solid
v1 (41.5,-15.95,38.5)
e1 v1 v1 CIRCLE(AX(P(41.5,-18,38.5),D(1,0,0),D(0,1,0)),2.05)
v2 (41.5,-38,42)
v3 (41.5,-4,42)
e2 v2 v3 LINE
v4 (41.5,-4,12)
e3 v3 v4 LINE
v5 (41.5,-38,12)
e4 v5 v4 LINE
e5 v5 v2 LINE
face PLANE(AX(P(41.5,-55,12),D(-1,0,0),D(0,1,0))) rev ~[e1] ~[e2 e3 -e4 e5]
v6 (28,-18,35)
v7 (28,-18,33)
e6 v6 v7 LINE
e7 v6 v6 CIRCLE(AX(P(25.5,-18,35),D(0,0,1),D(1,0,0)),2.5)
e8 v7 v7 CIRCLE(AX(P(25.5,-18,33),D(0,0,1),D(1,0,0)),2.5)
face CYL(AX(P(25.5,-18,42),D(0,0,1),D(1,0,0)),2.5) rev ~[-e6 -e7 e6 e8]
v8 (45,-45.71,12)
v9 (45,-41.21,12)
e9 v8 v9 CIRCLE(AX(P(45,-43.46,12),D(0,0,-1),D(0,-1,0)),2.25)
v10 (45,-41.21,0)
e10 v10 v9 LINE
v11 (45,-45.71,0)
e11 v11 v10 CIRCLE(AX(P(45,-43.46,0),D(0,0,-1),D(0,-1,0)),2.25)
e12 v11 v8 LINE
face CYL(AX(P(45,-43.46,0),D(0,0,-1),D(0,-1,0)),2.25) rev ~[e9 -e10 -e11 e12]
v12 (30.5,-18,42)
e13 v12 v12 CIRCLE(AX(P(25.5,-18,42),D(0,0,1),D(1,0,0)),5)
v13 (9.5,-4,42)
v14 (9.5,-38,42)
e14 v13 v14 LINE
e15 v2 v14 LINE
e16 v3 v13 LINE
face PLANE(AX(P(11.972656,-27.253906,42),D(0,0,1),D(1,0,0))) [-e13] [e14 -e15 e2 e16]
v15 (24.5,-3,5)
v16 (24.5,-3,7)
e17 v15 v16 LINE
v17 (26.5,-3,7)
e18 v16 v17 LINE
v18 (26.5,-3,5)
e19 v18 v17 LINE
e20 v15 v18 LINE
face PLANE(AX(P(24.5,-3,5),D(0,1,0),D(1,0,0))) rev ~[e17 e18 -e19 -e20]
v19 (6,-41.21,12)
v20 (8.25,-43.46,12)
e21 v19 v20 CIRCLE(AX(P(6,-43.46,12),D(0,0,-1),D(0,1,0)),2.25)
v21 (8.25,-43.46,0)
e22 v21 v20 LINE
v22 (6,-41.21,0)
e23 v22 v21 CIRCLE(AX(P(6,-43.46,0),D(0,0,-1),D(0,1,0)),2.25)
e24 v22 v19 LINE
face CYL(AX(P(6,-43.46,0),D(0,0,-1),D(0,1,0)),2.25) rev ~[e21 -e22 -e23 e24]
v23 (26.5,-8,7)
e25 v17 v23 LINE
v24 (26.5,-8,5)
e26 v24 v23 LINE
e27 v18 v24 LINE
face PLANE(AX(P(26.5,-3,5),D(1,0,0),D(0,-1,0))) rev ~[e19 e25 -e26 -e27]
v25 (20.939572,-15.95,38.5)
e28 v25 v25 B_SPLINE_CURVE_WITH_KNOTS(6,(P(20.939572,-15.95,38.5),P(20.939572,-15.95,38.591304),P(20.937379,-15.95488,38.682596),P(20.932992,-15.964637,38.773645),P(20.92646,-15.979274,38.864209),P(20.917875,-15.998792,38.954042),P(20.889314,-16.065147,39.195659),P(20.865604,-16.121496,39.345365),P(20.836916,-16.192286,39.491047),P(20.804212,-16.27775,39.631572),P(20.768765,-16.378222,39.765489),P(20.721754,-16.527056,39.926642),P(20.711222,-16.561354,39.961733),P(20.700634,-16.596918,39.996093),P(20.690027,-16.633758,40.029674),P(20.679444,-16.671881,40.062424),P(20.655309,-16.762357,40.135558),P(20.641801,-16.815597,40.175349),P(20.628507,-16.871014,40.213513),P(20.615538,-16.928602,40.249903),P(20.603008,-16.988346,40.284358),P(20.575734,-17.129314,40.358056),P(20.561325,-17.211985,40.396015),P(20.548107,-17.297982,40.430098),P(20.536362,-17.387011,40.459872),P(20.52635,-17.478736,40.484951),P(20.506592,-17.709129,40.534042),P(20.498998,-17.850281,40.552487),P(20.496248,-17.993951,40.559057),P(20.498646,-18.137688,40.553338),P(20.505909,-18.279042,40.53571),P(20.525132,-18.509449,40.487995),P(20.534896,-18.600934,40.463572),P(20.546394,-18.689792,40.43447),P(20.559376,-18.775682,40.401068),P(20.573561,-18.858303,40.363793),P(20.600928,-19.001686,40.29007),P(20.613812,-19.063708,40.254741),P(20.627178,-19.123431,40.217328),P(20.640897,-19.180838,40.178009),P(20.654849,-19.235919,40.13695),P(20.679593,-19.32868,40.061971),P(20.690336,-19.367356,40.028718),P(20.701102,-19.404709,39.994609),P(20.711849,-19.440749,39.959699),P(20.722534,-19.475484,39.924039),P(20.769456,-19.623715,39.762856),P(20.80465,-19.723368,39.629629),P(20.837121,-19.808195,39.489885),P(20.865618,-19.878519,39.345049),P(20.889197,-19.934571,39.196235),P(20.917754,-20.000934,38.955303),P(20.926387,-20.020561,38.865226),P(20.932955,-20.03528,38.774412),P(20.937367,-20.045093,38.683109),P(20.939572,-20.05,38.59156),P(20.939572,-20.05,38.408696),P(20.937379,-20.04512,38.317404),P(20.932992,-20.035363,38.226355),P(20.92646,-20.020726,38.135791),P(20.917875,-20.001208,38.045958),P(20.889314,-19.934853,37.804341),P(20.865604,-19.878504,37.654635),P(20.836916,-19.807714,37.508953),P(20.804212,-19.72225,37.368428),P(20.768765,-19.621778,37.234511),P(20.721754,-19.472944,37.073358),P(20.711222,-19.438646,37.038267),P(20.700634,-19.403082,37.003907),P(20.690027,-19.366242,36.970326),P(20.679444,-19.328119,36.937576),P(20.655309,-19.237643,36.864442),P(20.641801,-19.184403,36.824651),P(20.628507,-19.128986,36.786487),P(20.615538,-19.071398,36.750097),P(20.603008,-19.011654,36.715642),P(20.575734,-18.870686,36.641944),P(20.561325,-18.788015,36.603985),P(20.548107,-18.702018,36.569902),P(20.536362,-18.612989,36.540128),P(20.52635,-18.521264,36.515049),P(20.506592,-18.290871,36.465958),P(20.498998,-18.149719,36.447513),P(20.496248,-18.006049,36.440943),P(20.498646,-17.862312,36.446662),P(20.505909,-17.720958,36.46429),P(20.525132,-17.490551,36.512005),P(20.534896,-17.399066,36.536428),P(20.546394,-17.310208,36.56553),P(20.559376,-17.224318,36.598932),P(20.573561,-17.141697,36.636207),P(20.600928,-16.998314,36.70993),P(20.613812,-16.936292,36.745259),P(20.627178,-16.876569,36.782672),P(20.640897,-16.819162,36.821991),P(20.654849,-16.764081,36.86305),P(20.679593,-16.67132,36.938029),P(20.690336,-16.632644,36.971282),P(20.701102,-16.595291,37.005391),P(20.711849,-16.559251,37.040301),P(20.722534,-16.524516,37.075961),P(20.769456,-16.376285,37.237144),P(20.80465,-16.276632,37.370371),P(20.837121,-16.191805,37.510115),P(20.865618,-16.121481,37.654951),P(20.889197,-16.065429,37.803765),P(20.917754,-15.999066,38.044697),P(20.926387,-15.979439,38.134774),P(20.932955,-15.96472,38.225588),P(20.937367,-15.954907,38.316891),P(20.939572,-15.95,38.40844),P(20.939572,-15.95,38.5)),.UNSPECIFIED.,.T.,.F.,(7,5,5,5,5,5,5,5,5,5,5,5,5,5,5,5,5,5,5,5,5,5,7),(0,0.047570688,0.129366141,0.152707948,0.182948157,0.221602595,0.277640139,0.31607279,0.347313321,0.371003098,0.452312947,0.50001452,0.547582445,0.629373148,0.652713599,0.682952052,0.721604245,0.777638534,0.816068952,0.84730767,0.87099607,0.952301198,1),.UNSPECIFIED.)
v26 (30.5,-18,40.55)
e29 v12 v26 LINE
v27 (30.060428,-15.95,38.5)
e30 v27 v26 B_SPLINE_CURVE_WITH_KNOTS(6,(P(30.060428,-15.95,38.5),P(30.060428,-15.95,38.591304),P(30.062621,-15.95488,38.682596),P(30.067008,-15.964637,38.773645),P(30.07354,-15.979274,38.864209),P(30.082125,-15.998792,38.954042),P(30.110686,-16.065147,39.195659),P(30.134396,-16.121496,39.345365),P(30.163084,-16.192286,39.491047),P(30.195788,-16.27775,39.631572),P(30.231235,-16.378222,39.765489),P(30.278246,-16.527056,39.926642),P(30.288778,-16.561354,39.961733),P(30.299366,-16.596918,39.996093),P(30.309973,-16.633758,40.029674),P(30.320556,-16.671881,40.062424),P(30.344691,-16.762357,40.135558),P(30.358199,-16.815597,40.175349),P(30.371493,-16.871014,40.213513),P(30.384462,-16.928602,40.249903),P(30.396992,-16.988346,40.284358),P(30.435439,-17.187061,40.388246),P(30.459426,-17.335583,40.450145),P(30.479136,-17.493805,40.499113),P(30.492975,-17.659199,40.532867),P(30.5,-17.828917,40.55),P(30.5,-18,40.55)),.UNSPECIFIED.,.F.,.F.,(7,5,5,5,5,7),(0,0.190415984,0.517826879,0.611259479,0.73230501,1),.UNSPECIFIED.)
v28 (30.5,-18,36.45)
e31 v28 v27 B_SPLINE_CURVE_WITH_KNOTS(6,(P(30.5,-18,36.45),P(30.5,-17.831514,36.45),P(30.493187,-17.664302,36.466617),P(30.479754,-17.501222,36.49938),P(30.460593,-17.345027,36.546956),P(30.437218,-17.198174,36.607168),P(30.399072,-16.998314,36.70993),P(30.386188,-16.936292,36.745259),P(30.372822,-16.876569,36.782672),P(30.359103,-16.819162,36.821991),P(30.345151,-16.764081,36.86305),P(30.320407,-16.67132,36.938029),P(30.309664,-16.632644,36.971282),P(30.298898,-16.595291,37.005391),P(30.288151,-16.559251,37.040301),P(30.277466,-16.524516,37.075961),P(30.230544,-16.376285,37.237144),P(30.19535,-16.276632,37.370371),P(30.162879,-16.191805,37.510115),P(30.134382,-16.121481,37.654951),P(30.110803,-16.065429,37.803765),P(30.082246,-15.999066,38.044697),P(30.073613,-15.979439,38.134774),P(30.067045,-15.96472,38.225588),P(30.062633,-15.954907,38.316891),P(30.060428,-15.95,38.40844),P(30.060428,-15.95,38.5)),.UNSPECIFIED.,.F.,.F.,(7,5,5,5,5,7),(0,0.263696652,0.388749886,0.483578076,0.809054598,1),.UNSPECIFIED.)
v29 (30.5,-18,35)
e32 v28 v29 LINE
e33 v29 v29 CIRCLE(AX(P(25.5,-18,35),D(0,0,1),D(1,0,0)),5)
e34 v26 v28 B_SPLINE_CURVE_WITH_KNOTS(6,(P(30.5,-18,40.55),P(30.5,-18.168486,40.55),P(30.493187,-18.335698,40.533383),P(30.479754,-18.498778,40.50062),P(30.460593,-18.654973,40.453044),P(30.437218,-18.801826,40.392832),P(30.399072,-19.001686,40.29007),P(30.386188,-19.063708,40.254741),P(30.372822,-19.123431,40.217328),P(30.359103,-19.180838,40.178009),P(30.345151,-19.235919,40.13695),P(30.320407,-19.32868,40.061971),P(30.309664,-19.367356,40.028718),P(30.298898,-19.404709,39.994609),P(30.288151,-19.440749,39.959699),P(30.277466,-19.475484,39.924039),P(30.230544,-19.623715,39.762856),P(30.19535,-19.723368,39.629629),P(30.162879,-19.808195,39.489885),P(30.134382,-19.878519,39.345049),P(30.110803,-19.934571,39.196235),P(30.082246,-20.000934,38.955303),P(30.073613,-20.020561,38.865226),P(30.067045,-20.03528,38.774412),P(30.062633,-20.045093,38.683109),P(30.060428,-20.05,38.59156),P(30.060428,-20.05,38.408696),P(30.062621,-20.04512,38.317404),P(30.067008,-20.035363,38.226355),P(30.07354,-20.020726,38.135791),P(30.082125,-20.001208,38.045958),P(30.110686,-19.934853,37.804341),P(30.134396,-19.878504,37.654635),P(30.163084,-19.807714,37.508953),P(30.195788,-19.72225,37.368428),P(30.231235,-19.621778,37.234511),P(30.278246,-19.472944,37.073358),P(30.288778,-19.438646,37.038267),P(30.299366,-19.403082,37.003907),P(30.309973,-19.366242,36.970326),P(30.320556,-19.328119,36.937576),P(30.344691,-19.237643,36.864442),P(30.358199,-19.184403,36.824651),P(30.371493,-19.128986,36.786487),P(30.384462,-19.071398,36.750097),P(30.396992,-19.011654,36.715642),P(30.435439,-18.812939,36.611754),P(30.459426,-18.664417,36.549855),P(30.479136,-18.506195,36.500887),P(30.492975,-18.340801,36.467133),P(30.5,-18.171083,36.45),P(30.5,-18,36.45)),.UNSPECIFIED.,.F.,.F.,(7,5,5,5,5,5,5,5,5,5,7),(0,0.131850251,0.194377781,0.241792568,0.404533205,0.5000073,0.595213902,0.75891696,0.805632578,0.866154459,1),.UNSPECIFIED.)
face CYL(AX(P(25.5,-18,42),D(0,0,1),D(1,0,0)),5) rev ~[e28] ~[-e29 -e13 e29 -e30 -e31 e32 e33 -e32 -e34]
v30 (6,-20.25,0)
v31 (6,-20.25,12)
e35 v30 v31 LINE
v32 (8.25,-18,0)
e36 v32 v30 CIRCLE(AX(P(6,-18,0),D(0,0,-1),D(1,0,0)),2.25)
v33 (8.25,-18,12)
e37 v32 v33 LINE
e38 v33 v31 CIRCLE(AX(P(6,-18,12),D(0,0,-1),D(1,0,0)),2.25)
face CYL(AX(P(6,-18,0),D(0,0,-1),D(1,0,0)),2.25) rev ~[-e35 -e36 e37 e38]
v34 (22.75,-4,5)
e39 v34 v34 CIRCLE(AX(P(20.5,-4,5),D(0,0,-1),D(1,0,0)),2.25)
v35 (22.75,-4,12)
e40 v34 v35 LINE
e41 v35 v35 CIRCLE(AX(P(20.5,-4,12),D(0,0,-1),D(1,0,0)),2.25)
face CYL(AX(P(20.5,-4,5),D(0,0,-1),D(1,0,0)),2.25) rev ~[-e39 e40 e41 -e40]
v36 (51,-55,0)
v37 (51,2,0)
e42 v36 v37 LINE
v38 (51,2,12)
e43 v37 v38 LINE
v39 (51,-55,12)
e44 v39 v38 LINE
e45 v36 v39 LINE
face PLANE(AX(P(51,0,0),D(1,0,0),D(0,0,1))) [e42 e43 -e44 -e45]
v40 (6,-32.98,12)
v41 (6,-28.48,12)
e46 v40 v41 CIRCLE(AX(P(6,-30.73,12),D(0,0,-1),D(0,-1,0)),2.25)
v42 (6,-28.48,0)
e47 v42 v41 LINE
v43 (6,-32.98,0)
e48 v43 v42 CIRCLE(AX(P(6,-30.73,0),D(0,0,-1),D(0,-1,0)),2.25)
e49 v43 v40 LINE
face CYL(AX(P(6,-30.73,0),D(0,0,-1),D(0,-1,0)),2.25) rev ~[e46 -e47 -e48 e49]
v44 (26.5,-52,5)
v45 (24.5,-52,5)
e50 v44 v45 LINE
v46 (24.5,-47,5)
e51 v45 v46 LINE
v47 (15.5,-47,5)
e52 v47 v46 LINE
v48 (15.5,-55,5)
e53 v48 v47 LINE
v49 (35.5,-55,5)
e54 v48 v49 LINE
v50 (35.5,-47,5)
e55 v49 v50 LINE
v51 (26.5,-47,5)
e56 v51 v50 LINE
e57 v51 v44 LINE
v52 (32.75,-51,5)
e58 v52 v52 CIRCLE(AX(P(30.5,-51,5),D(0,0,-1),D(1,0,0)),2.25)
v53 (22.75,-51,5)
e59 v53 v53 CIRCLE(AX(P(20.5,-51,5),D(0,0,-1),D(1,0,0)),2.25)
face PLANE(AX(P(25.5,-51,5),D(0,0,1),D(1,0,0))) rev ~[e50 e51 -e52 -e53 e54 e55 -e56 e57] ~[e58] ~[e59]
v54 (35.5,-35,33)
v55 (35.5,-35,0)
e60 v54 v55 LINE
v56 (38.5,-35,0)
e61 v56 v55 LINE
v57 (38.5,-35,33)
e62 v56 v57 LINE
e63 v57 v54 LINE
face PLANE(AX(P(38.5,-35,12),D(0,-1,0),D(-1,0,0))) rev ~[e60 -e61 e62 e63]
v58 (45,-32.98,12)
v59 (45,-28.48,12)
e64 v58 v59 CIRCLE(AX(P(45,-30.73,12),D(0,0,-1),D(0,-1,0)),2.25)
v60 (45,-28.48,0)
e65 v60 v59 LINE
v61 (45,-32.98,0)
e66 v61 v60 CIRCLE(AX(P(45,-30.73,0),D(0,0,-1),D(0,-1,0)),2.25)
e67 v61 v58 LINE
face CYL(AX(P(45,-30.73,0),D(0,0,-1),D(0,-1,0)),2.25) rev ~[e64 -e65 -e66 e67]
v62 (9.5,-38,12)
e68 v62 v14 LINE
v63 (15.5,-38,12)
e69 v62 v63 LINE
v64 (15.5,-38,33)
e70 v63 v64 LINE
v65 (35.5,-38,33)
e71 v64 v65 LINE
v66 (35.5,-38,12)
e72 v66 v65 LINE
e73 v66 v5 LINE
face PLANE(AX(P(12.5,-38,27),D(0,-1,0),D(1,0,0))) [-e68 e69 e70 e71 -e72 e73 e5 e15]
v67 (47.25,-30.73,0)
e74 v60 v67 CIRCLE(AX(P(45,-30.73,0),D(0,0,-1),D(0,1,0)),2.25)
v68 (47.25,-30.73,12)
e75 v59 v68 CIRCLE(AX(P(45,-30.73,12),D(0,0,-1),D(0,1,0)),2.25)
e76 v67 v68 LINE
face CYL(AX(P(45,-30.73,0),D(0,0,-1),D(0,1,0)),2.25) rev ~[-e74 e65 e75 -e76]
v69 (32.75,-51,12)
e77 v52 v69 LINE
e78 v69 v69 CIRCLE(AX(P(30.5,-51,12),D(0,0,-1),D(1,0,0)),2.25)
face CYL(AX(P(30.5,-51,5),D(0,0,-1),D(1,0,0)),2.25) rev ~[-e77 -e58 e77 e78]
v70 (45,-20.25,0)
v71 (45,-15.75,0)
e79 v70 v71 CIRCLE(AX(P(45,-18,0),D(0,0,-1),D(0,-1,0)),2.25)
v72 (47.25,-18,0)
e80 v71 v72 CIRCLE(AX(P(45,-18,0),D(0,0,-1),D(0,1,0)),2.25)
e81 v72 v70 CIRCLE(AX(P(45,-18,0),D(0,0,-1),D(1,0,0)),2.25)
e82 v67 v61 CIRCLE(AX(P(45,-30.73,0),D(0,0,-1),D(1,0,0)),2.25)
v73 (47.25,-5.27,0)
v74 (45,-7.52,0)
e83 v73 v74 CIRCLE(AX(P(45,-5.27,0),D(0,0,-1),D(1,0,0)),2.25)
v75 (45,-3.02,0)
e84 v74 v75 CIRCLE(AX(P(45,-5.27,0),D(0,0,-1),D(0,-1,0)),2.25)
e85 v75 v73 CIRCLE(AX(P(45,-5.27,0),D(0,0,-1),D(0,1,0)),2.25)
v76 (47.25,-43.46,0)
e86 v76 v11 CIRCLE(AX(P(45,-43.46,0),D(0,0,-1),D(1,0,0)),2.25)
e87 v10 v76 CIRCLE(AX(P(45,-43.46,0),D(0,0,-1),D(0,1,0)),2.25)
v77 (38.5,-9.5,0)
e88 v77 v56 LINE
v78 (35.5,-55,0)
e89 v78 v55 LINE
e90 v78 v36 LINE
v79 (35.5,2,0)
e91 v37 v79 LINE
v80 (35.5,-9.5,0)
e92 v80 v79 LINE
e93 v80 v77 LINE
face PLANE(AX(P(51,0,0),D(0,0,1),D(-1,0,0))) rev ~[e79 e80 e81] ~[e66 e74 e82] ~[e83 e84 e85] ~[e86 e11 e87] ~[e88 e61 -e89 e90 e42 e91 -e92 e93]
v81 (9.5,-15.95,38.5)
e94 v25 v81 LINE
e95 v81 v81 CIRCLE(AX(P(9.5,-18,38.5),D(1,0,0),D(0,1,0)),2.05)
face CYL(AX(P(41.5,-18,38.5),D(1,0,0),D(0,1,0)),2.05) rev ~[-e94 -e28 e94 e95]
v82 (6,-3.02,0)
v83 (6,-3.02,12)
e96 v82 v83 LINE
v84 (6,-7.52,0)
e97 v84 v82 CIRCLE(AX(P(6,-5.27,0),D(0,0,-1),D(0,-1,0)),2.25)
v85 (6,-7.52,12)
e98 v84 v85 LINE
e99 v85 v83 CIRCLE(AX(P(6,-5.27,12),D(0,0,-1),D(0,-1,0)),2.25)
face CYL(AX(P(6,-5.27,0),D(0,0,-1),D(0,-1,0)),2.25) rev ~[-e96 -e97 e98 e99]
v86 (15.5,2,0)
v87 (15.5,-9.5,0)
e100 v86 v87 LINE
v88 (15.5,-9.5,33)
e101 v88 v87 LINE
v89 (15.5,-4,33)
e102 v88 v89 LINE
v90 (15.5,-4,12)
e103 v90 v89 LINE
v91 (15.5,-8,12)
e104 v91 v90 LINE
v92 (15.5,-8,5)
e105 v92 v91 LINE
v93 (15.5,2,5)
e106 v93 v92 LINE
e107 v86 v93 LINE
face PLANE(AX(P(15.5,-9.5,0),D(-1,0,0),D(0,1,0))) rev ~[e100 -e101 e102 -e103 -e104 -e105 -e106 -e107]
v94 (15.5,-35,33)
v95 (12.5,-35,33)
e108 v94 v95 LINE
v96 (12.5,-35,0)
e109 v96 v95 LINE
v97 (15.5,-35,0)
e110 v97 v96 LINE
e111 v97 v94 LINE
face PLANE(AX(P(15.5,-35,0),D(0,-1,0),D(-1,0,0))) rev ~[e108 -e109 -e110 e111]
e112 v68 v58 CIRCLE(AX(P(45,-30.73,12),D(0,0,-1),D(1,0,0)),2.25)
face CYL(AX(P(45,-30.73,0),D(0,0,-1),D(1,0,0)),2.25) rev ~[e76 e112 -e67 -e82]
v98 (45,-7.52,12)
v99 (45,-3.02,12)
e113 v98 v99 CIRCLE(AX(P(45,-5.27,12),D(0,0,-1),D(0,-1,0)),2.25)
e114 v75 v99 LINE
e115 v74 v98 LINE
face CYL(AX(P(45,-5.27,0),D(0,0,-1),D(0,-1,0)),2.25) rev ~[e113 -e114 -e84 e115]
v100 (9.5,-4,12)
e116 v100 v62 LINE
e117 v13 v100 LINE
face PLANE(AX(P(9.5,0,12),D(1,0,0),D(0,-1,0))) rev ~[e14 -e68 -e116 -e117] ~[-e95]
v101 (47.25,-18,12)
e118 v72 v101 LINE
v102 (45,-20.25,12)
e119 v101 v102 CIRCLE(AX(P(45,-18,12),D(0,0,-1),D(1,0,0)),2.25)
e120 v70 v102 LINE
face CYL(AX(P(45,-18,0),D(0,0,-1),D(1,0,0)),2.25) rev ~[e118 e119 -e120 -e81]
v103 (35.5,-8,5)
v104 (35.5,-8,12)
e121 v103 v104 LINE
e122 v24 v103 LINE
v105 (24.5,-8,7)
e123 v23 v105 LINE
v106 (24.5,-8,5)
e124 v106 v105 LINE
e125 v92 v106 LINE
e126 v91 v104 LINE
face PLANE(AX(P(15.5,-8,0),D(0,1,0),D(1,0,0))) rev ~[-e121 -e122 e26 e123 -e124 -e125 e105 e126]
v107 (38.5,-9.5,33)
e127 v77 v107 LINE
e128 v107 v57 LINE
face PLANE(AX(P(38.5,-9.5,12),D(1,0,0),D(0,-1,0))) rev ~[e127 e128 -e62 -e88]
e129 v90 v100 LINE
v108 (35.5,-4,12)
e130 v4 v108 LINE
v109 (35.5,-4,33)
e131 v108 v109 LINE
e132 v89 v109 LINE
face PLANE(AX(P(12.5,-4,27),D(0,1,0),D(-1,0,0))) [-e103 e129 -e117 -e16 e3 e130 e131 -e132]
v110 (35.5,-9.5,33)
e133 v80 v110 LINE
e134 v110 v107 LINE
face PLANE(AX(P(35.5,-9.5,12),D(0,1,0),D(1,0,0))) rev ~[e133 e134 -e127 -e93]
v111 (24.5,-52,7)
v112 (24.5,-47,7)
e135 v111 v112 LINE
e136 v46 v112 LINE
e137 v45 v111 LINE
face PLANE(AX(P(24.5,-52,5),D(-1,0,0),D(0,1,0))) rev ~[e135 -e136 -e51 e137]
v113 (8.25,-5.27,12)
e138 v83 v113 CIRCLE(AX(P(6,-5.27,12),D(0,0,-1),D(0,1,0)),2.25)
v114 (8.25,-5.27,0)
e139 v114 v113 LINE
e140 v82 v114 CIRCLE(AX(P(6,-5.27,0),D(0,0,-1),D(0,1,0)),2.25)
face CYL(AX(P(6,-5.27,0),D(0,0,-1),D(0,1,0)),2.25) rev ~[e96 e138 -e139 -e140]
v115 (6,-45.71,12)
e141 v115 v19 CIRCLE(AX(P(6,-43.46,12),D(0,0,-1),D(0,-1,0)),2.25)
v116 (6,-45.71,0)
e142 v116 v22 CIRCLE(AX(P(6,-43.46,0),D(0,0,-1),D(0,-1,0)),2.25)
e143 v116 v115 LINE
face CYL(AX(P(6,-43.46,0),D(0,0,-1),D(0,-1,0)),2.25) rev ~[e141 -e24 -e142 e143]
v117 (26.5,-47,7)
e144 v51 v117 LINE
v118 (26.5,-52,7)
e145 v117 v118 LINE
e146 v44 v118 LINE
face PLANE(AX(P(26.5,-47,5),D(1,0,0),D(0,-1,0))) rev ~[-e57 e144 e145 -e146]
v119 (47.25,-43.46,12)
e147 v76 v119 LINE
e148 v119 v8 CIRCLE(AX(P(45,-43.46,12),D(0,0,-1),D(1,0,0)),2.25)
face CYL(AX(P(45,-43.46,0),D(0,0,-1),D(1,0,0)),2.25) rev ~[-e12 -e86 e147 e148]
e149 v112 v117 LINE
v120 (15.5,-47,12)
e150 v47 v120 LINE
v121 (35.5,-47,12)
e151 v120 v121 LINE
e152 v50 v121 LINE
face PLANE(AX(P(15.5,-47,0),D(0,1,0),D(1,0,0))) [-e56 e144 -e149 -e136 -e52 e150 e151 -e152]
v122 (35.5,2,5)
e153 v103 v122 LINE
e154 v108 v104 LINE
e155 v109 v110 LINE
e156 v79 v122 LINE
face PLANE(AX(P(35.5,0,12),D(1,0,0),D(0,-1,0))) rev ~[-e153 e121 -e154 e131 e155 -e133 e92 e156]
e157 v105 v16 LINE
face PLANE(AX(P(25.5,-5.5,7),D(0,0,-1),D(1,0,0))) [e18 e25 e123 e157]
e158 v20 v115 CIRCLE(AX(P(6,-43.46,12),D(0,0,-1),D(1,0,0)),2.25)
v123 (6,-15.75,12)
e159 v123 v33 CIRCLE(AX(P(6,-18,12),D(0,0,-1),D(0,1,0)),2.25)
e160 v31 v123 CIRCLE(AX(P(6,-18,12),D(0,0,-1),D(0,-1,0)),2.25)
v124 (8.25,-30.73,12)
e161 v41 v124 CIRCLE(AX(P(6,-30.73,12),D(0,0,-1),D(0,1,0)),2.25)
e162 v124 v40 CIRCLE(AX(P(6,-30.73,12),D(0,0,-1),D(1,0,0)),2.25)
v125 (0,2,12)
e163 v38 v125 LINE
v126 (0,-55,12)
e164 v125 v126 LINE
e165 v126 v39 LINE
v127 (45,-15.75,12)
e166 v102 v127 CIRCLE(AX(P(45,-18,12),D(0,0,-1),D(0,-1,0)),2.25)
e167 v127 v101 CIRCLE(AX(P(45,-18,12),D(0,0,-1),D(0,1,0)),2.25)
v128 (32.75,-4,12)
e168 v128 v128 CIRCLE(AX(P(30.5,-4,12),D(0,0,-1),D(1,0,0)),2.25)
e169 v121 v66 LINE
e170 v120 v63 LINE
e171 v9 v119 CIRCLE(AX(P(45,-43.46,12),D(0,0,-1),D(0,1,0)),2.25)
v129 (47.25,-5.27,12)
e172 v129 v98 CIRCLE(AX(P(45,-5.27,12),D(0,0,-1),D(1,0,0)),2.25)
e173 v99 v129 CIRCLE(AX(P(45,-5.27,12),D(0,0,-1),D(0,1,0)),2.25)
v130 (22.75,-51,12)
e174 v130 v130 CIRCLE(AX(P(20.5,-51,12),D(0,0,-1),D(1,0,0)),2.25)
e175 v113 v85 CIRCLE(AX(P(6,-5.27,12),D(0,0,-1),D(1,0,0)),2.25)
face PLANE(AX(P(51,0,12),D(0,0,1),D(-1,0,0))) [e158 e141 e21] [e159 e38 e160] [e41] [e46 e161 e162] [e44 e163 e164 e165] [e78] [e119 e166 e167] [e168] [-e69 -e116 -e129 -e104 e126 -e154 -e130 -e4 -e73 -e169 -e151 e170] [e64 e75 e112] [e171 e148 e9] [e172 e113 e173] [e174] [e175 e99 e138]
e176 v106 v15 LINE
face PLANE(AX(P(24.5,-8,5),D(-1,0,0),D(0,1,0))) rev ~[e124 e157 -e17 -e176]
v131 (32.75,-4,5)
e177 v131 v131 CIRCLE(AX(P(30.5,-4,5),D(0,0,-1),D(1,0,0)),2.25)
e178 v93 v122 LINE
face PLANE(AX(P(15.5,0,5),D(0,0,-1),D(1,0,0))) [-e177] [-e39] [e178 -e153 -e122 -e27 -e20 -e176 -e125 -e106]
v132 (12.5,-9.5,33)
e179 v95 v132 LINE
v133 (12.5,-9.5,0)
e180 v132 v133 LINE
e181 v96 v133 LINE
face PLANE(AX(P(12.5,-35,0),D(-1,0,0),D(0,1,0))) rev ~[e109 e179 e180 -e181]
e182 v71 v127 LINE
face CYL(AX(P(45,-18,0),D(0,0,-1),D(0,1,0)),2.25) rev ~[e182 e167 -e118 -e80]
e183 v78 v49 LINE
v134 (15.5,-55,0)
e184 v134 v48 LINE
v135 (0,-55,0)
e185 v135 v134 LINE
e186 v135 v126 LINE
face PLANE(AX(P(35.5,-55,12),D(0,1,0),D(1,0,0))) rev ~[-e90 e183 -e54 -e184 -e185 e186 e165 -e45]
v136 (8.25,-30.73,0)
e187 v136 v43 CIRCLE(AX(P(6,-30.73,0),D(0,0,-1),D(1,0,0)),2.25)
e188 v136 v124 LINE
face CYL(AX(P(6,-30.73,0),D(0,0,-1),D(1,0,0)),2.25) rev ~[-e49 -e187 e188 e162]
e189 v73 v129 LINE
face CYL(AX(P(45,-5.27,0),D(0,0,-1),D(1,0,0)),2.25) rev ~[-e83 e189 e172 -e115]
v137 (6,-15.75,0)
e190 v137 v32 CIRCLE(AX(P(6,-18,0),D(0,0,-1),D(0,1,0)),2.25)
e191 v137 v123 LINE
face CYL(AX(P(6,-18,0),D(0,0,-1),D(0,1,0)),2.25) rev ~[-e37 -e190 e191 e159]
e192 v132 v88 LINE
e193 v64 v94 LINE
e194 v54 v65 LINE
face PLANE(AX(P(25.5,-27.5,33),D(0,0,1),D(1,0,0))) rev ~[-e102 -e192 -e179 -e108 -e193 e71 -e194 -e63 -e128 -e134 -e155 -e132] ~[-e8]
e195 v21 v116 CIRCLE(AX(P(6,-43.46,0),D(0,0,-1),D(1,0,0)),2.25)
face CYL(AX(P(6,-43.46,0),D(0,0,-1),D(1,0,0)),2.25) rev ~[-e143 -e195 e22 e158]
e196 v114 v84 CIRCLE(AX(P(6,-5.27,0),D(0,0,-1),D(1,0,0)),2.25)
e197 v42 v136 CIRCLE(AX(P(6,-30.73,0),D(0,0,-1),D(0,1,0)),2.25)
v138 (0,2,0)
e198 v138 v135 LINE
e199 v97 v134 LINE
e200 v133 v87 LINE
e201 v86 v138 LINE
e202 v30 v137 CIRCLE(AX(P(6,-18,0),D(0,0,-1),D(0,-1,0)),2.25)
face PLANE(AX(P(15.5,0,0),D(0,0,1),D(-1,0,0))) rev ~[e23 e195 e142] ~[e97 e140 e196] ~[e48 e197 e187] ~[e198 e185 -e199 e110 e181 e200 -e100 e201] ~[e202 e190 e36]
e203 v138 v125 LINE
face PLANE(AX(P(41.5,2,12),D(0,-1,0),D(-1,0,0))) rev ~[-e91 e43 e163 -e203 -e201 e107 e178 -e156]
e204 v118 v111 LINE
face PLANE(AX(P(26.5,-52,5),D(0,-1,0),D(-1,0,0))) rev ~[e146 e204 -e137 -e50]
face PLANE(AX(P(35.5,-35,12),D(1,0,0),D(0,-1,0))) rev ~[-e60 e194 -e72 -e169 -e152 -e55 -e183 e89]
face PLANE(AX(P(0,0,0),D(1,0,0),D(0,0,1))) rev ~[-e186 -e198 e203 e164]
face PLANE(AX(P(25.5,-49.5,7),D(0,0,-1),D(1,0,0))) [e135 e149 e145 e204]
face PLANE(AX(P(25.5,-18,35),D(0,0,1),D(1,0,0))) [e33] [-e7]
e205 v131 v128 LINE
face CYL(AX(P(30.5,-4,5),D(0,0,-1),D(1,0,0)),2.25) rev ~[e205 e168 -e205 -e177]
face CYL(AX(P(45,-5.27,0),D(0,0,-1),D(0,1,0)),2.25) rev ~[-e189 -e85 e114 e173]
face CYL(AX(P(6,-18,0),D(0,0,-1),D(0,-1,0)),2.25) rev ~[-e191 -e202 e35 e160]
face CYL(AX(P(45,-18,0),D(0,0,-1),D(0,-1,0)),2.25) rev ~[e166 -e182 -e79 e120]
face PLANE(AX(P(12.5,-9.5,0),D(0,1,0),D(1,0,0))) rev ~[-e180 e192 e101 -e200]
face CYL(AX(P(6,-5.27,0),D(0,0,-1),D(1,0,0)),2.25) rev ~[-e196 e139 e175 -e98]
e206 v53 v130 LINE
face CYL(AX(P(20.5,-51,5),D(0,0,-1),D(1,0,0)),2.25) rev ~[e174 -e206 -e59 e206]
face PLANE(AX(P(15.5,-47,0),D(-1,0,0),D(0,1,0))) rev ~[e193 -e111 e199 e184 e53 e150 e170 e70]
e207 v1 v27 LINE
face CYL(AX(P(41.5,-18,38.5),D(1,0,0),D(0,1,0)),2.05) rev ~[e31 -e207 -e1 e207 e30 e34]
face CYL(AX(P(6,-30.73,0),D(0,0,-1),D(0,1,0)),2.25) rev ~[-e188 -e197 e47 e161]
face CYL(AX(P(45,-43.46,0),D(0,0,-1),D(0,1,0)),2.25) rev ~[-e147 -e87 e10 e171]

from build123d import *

# Parameters (mm, degrees)
F0_W      = 20
F0_H      = 8
F1_DEPTH  = 12
F2_DEPTH  = 5
F3_DEPTH  = 5
F5_DEPTH  = 2
F4_R      = 2.25
F6_DEPTH  = 25
F8_DEPTH  = 2
F7_R      = 2.25
F9_DEPTH  = 25
F11_DEPTH = 30
F12_W     = 6
F12_H     = 30
F13_DEPTH = 4
F14_W     = 6
F14_H     = 30
F15_DEPTH = 4
F16_W     = 32
F16_H     = 47
F17_DEPTH = 9
F18_R     = 5
F18_R_2   = 2.5
F19_DEPTH = 7
F20_DEPTH = 25
F21_R     = 2.05
F22_DEPTH = 58
F23_DEPTH = 13
F24_DEPTH = 2


with BuildPart() as f1:
    # F0 (on Top) → F1 (new body)
    with BuildSketch(Plane.XY):
        with Locations((25.5, -4)):
            Rectangle(F0_W, F0_H)
        with Locations((25.5, -51)):
            Rectangle(F0_W, F0_H)
        with BuildLine():
            Line((6, 0), (0, 0))
            Line((0, 0), (0, -55))
            Line((0, -55), (6, -55))
            Line((6, -55), (6, -45.71))
            ThreePointArc((6, -45.71), (3.75, -43.46), (6, -41.21))
            Line((6, -41.21), (6, -32.98))
            ThreePointArc((6, -32.98), (3.75, -30.73), (6, -28.48))
            Line((6, -28.48), (6, -20.25))
            ThreePointArc((6, -20.25), (3.75, -18), (6, -15.75))
            Line((6, -15.75), (6, -7.52))
            ThreePointArc((6, -7.52), (3.75, -5.27), (6, -3.02))
            Line((6, -3.02), (6, 0))
        make_face()
        with BuildLine():
            Line((51, 0), (45, 0))
            Line((45, 0), (45, -3.02))
            ThreePointArc((45, -3.02), (46.5909902577, -3.6790097423), (47.25, -5.27))
            ThreePointArc((47.25, -5.27), (46.5909902577, -6.8609902577), (45, -7.52))
            Line((45, -7.52), (45, -15.75))
            ThreePointArc((45, -15.75), (46.5909902577, -16.4090097423), (47.25, -18))
            ThreePointArc((47.25, -18), (46.5909902577, -19.5909902577), (45, -20.25))
            Line((45, -20.25), (45, -28.48))
            ThreePointArc((45, -28.48), (46.5909902577, -29.1390097423), (47.25, -30.73))
            ThreePointArc((47.25, -30.73), (46.5909902577, -32.3209902577), (45, -32.98))
            Line((45, -32.98), (45, -41.21))
            ThreePointArc((45, -41.21), (46.5909902577, -41.8690097423), (47.25, -43.46))
            ThreePointArc((47.25, -43.46), (46.5909902577, -45.0509902577), (45, -45.71))
            Line((45, -45.71), (45, -55))
            Line((45, -55), (51, -55))
            Line((51, -55), (51, 0))
        make_face()
        with BuildLine():
            Line((15.5, 0), (6, 0))
            Line((6, 0), (6, -3.02))
            ThreePointArc((6, -3.02), (7.5909902577, -3.6790097423), (8.25, -5.27))
            ThreePointArc((8.25, -5.27), (7.5909902577, -6.8609902577), (6, -7.52))
            Line((6, -7.52), (6, -15.75))
            ThreePointArc((6, -15.75), (7.5909902577, -16.4090097423), (8.25, -18))
            ThreePointArc((8.25, -18), (7.5909902577, -19.5909902577), (6, -20.25))
            Line((6, -20.25), (6, -28.48))
            ThreePointArc((6, -28.48), (7.5909902577, -29.1390097423), (8.25, -30.73))
            ThreePointArc((8.25, -30.73), (7.5909902577, -32.3209902577), (6, -32.98))
            Line((6, -32.98), (6, -41.21))
            ThreePointArc((6, -41.21), (7.5909902577, -41.8690097423), (8.25, -43.46))
            ThreePointArc((8.25, -43.46), (7.5909902577, -45.0509902577), (6, -45.71))
            Line((6, -45.71), (6, -55))
            Line((6, -55), (15.5, -55))
            Line((15.5, -55), (15.5, -47))
            Line((15.5, -47), (15.5, -35))
            Line((15.5, -35), (12.5, -35))
            Line((12.5, -35), (12.5, -9.5))
            Line((12.5, -9.5), (15.5, -9.5))
            Line((15.5, -9.5), (15.5, -8))
            Line((15.5, -8), (15.5, 0))
        make_face()
        with BuildLine():
            Line((45, 0), (35.5, 0))
            Line((35.5, 0), (35.5, -8))
            Line((35.5, -8), (35.5, -9.5))
            Line((35.5, -9.5), (38.5, -9.5))
            Line((38.5, -9.5), (38.5, -35))
            Line((38.5, -35), (35.5, -35))
            Line((35.5, -35), (35.5, -47))
            Line((35.5, -47), (35.5, -55))
            Line((35.5, -55), (45, -55))
            Line((45, -55), (45, -45.71))
            ThreePointArc((45, -45.71), (42.75, -43.46), (45, -41.21))
            Line((45, -41.21), (45, -32.98))
            ThreePointArc((45, -32.98), (42.75, -30.73), (45, -28.48))
            Line((45, -28.48), (45, -20.25))
            ThreePointArc((45, -20.25), (42.75, -18), (45, -15.75))
            Line((45, -15.75), (45, -7.52))
            ThreePointArc((45, -7.52), (42.75, -5.27), (45, -3.02))
            Line((45, -3.02), (45, 0))
        make_face()
    extrude(amount=F1_DEPTH)

    # F0 (on Top) → F2 (cut)
    with BuildSketch(Plane.XY):
        with Locations((25.5, -51)):
            Rectangle(F0_W, F0_H)
    extrude(amount=F2_DEPTH, mode=Mode.SUBTRACT)

    # F0 (on Top) → F3 (cut)
    with BuildSketch(Plane.XY):
        with Locations((25.5, -4)):
            Rectangle(F0_W, F0_H)
    extrude(amount=F3_DEPTH, mode=Mode.SUBTRACT)

    # F4 (on face) → F5 (cut)
    with BuildSketch(Plane(origin=(0, 0, 5), x_dir=(1, 0, 0), z_dir=(0, 0, -1))):
        Polygon((24.5, 47), (25.5, 47), (26.5, 47), (26.5, 52), (24.5, 52), align=None)
    extrude(amount=-F5_DEPTH, mode=Mode.SUBTRACT)

    # F4 (on face) → F6 (cut)
    with BuildSketch(Plane(origin=(0, 0, 5), x_dir=(1, 0, 0), z_dir=(0, 0, -1))):
        with Locations((20.5, 51)):
            Circle(F4_R)
        with Locations((30.5, 51)):
            Circle(F4_R)
    extrude(amount=-F6_DEPTH, mode=Mode.SUBTRACT)

    # F7 (on face) → F8 (cut)
    with BuildSketch(Plane(origin=(0, 0, 5), x_dir=(1, 0, 0), z_dir=(0, 0, -1))):
        Polygon((26.5, 8), (25.5, 8), (24.5, 8), (24.5, 3), (26.5, 3), align=None)
    extrude(amount=-F8_DEPTH, mode=Mode.SUBTRACT)

    # F7 (on face) → F9 (cut)
    with BuildSketch(Plane(origin=(0, 0, 5), x_dir=(1, 0, 0), z_dir=(0, 0, -1))):
        with Locations((30.5, 4)):
            Circle(F7_R)
        with Locations((20.5, 4)):
            Circle(F7_R)
    extrude(amount=-F9_DEPTH, mode=Mode.SUBTRACT)

    # F10 (on face) → F11 (join)
    with BuildSketch(Plane.XY.offset(12)):
        Polygon((41.5, -55), (41.5, 0), (35.5, 0), (35.5, -8), (35.5, -9.5), (38.5, -9.5), (38.5, -35), (35.5, -35), (35.5, -47), (35.5, -55), align=None)
        Polygon((15.5, -8), (15.5, 0), (9.5, 0), (9.5, -55), (15.5, -55), (15.5, -47), (15.5, -35), (12.5, -35), (12.5, -9.5), (15.5, -9.5), align=None)
    extrude(amount=F11_DEPTH)

    # F12 (on face) → F13 (cut)
    with BuildSketch(Plane(origin=(0, 0, 0), x_dir=(-1, 0, 0), z_dir=(0, 1, 0))):
        with Locations((-38.5, 27)):
            Rectangle(F12_W, F12_H)
        with Locations((-12.5, 27)):
            Rectangle(F12_W, F12_H)
    extrude(amount=-F13_DEPTH, mode=Mode.SUBTRACT)

    # F14 (on face) → F15 (cut)
    with BuildSketch(Plane.XZ.offset(55)):
        with Locations((12.5, 27)):
            Rectangle(F14_W, F14_H)
        with Locations((38.5, 27)):
            Rectangle(F14_W, F14_H)
    extrude(amount=-F15_DEPTH, mode=Mode.SUBTRACT)

    # F16 (on face) → F17 (join)
    with BuildSketch(Plane.XY.offset(42)):
        with Locations((25.5, -27.5)):
            Rectangle(F16_W, F16_H)
    extrude(amount=-F17_DEPTH)

    # F18 (on face) → F19 (cut)
    with BuildSketch(Plane.XY.offset(42)):
        with Locations((25.5, -18)):
            Circle(F18_R)
        with Locations((25.5, -18)):
            Circle(F18_R_2, mode=Mode.SUBTRACT)
    extrude(amount=-F19_DEPTH, mode=Mode.SUBTRACT)

    # F20 (cut): a face of the model
    f20_faces = [f1.faces().sort_by_distance(p)[0] for p in [
        (25.5, -18, 42),
    ]]
    extrude(f20_faces, amount=-F20_DEPTH, mode=Mode.SUBTRACT)

    # F21 (on face) → F22 (cut)
    with BuildSketch(Plane.YZ.offset(41.5)):
        with Locations((-18, 38.5)):
            Circle(F21_R)
    extrude(amount=-F22_DEPTH, mode=Mode.SUBTRACT)

    # F23 (cut): a face of the model
    f23_faces = [f1.faces().sort_by_distance(p)[0] for p in [
        (41.061365756, -51, 27),
    ]]
    extrude(f23_faces, amount=-F23_DEPTH, mode=Mode.SUBTRACT)

    # F24 (add): a face of the model
    f24_faces = [f1.faces().sort_by_distance(p)[0] for p in [
        (25.5, 0, 6.68359375),
    ]]
    extrude(f24_faces, amount=F24_DEPTH)


solid = f1.part
